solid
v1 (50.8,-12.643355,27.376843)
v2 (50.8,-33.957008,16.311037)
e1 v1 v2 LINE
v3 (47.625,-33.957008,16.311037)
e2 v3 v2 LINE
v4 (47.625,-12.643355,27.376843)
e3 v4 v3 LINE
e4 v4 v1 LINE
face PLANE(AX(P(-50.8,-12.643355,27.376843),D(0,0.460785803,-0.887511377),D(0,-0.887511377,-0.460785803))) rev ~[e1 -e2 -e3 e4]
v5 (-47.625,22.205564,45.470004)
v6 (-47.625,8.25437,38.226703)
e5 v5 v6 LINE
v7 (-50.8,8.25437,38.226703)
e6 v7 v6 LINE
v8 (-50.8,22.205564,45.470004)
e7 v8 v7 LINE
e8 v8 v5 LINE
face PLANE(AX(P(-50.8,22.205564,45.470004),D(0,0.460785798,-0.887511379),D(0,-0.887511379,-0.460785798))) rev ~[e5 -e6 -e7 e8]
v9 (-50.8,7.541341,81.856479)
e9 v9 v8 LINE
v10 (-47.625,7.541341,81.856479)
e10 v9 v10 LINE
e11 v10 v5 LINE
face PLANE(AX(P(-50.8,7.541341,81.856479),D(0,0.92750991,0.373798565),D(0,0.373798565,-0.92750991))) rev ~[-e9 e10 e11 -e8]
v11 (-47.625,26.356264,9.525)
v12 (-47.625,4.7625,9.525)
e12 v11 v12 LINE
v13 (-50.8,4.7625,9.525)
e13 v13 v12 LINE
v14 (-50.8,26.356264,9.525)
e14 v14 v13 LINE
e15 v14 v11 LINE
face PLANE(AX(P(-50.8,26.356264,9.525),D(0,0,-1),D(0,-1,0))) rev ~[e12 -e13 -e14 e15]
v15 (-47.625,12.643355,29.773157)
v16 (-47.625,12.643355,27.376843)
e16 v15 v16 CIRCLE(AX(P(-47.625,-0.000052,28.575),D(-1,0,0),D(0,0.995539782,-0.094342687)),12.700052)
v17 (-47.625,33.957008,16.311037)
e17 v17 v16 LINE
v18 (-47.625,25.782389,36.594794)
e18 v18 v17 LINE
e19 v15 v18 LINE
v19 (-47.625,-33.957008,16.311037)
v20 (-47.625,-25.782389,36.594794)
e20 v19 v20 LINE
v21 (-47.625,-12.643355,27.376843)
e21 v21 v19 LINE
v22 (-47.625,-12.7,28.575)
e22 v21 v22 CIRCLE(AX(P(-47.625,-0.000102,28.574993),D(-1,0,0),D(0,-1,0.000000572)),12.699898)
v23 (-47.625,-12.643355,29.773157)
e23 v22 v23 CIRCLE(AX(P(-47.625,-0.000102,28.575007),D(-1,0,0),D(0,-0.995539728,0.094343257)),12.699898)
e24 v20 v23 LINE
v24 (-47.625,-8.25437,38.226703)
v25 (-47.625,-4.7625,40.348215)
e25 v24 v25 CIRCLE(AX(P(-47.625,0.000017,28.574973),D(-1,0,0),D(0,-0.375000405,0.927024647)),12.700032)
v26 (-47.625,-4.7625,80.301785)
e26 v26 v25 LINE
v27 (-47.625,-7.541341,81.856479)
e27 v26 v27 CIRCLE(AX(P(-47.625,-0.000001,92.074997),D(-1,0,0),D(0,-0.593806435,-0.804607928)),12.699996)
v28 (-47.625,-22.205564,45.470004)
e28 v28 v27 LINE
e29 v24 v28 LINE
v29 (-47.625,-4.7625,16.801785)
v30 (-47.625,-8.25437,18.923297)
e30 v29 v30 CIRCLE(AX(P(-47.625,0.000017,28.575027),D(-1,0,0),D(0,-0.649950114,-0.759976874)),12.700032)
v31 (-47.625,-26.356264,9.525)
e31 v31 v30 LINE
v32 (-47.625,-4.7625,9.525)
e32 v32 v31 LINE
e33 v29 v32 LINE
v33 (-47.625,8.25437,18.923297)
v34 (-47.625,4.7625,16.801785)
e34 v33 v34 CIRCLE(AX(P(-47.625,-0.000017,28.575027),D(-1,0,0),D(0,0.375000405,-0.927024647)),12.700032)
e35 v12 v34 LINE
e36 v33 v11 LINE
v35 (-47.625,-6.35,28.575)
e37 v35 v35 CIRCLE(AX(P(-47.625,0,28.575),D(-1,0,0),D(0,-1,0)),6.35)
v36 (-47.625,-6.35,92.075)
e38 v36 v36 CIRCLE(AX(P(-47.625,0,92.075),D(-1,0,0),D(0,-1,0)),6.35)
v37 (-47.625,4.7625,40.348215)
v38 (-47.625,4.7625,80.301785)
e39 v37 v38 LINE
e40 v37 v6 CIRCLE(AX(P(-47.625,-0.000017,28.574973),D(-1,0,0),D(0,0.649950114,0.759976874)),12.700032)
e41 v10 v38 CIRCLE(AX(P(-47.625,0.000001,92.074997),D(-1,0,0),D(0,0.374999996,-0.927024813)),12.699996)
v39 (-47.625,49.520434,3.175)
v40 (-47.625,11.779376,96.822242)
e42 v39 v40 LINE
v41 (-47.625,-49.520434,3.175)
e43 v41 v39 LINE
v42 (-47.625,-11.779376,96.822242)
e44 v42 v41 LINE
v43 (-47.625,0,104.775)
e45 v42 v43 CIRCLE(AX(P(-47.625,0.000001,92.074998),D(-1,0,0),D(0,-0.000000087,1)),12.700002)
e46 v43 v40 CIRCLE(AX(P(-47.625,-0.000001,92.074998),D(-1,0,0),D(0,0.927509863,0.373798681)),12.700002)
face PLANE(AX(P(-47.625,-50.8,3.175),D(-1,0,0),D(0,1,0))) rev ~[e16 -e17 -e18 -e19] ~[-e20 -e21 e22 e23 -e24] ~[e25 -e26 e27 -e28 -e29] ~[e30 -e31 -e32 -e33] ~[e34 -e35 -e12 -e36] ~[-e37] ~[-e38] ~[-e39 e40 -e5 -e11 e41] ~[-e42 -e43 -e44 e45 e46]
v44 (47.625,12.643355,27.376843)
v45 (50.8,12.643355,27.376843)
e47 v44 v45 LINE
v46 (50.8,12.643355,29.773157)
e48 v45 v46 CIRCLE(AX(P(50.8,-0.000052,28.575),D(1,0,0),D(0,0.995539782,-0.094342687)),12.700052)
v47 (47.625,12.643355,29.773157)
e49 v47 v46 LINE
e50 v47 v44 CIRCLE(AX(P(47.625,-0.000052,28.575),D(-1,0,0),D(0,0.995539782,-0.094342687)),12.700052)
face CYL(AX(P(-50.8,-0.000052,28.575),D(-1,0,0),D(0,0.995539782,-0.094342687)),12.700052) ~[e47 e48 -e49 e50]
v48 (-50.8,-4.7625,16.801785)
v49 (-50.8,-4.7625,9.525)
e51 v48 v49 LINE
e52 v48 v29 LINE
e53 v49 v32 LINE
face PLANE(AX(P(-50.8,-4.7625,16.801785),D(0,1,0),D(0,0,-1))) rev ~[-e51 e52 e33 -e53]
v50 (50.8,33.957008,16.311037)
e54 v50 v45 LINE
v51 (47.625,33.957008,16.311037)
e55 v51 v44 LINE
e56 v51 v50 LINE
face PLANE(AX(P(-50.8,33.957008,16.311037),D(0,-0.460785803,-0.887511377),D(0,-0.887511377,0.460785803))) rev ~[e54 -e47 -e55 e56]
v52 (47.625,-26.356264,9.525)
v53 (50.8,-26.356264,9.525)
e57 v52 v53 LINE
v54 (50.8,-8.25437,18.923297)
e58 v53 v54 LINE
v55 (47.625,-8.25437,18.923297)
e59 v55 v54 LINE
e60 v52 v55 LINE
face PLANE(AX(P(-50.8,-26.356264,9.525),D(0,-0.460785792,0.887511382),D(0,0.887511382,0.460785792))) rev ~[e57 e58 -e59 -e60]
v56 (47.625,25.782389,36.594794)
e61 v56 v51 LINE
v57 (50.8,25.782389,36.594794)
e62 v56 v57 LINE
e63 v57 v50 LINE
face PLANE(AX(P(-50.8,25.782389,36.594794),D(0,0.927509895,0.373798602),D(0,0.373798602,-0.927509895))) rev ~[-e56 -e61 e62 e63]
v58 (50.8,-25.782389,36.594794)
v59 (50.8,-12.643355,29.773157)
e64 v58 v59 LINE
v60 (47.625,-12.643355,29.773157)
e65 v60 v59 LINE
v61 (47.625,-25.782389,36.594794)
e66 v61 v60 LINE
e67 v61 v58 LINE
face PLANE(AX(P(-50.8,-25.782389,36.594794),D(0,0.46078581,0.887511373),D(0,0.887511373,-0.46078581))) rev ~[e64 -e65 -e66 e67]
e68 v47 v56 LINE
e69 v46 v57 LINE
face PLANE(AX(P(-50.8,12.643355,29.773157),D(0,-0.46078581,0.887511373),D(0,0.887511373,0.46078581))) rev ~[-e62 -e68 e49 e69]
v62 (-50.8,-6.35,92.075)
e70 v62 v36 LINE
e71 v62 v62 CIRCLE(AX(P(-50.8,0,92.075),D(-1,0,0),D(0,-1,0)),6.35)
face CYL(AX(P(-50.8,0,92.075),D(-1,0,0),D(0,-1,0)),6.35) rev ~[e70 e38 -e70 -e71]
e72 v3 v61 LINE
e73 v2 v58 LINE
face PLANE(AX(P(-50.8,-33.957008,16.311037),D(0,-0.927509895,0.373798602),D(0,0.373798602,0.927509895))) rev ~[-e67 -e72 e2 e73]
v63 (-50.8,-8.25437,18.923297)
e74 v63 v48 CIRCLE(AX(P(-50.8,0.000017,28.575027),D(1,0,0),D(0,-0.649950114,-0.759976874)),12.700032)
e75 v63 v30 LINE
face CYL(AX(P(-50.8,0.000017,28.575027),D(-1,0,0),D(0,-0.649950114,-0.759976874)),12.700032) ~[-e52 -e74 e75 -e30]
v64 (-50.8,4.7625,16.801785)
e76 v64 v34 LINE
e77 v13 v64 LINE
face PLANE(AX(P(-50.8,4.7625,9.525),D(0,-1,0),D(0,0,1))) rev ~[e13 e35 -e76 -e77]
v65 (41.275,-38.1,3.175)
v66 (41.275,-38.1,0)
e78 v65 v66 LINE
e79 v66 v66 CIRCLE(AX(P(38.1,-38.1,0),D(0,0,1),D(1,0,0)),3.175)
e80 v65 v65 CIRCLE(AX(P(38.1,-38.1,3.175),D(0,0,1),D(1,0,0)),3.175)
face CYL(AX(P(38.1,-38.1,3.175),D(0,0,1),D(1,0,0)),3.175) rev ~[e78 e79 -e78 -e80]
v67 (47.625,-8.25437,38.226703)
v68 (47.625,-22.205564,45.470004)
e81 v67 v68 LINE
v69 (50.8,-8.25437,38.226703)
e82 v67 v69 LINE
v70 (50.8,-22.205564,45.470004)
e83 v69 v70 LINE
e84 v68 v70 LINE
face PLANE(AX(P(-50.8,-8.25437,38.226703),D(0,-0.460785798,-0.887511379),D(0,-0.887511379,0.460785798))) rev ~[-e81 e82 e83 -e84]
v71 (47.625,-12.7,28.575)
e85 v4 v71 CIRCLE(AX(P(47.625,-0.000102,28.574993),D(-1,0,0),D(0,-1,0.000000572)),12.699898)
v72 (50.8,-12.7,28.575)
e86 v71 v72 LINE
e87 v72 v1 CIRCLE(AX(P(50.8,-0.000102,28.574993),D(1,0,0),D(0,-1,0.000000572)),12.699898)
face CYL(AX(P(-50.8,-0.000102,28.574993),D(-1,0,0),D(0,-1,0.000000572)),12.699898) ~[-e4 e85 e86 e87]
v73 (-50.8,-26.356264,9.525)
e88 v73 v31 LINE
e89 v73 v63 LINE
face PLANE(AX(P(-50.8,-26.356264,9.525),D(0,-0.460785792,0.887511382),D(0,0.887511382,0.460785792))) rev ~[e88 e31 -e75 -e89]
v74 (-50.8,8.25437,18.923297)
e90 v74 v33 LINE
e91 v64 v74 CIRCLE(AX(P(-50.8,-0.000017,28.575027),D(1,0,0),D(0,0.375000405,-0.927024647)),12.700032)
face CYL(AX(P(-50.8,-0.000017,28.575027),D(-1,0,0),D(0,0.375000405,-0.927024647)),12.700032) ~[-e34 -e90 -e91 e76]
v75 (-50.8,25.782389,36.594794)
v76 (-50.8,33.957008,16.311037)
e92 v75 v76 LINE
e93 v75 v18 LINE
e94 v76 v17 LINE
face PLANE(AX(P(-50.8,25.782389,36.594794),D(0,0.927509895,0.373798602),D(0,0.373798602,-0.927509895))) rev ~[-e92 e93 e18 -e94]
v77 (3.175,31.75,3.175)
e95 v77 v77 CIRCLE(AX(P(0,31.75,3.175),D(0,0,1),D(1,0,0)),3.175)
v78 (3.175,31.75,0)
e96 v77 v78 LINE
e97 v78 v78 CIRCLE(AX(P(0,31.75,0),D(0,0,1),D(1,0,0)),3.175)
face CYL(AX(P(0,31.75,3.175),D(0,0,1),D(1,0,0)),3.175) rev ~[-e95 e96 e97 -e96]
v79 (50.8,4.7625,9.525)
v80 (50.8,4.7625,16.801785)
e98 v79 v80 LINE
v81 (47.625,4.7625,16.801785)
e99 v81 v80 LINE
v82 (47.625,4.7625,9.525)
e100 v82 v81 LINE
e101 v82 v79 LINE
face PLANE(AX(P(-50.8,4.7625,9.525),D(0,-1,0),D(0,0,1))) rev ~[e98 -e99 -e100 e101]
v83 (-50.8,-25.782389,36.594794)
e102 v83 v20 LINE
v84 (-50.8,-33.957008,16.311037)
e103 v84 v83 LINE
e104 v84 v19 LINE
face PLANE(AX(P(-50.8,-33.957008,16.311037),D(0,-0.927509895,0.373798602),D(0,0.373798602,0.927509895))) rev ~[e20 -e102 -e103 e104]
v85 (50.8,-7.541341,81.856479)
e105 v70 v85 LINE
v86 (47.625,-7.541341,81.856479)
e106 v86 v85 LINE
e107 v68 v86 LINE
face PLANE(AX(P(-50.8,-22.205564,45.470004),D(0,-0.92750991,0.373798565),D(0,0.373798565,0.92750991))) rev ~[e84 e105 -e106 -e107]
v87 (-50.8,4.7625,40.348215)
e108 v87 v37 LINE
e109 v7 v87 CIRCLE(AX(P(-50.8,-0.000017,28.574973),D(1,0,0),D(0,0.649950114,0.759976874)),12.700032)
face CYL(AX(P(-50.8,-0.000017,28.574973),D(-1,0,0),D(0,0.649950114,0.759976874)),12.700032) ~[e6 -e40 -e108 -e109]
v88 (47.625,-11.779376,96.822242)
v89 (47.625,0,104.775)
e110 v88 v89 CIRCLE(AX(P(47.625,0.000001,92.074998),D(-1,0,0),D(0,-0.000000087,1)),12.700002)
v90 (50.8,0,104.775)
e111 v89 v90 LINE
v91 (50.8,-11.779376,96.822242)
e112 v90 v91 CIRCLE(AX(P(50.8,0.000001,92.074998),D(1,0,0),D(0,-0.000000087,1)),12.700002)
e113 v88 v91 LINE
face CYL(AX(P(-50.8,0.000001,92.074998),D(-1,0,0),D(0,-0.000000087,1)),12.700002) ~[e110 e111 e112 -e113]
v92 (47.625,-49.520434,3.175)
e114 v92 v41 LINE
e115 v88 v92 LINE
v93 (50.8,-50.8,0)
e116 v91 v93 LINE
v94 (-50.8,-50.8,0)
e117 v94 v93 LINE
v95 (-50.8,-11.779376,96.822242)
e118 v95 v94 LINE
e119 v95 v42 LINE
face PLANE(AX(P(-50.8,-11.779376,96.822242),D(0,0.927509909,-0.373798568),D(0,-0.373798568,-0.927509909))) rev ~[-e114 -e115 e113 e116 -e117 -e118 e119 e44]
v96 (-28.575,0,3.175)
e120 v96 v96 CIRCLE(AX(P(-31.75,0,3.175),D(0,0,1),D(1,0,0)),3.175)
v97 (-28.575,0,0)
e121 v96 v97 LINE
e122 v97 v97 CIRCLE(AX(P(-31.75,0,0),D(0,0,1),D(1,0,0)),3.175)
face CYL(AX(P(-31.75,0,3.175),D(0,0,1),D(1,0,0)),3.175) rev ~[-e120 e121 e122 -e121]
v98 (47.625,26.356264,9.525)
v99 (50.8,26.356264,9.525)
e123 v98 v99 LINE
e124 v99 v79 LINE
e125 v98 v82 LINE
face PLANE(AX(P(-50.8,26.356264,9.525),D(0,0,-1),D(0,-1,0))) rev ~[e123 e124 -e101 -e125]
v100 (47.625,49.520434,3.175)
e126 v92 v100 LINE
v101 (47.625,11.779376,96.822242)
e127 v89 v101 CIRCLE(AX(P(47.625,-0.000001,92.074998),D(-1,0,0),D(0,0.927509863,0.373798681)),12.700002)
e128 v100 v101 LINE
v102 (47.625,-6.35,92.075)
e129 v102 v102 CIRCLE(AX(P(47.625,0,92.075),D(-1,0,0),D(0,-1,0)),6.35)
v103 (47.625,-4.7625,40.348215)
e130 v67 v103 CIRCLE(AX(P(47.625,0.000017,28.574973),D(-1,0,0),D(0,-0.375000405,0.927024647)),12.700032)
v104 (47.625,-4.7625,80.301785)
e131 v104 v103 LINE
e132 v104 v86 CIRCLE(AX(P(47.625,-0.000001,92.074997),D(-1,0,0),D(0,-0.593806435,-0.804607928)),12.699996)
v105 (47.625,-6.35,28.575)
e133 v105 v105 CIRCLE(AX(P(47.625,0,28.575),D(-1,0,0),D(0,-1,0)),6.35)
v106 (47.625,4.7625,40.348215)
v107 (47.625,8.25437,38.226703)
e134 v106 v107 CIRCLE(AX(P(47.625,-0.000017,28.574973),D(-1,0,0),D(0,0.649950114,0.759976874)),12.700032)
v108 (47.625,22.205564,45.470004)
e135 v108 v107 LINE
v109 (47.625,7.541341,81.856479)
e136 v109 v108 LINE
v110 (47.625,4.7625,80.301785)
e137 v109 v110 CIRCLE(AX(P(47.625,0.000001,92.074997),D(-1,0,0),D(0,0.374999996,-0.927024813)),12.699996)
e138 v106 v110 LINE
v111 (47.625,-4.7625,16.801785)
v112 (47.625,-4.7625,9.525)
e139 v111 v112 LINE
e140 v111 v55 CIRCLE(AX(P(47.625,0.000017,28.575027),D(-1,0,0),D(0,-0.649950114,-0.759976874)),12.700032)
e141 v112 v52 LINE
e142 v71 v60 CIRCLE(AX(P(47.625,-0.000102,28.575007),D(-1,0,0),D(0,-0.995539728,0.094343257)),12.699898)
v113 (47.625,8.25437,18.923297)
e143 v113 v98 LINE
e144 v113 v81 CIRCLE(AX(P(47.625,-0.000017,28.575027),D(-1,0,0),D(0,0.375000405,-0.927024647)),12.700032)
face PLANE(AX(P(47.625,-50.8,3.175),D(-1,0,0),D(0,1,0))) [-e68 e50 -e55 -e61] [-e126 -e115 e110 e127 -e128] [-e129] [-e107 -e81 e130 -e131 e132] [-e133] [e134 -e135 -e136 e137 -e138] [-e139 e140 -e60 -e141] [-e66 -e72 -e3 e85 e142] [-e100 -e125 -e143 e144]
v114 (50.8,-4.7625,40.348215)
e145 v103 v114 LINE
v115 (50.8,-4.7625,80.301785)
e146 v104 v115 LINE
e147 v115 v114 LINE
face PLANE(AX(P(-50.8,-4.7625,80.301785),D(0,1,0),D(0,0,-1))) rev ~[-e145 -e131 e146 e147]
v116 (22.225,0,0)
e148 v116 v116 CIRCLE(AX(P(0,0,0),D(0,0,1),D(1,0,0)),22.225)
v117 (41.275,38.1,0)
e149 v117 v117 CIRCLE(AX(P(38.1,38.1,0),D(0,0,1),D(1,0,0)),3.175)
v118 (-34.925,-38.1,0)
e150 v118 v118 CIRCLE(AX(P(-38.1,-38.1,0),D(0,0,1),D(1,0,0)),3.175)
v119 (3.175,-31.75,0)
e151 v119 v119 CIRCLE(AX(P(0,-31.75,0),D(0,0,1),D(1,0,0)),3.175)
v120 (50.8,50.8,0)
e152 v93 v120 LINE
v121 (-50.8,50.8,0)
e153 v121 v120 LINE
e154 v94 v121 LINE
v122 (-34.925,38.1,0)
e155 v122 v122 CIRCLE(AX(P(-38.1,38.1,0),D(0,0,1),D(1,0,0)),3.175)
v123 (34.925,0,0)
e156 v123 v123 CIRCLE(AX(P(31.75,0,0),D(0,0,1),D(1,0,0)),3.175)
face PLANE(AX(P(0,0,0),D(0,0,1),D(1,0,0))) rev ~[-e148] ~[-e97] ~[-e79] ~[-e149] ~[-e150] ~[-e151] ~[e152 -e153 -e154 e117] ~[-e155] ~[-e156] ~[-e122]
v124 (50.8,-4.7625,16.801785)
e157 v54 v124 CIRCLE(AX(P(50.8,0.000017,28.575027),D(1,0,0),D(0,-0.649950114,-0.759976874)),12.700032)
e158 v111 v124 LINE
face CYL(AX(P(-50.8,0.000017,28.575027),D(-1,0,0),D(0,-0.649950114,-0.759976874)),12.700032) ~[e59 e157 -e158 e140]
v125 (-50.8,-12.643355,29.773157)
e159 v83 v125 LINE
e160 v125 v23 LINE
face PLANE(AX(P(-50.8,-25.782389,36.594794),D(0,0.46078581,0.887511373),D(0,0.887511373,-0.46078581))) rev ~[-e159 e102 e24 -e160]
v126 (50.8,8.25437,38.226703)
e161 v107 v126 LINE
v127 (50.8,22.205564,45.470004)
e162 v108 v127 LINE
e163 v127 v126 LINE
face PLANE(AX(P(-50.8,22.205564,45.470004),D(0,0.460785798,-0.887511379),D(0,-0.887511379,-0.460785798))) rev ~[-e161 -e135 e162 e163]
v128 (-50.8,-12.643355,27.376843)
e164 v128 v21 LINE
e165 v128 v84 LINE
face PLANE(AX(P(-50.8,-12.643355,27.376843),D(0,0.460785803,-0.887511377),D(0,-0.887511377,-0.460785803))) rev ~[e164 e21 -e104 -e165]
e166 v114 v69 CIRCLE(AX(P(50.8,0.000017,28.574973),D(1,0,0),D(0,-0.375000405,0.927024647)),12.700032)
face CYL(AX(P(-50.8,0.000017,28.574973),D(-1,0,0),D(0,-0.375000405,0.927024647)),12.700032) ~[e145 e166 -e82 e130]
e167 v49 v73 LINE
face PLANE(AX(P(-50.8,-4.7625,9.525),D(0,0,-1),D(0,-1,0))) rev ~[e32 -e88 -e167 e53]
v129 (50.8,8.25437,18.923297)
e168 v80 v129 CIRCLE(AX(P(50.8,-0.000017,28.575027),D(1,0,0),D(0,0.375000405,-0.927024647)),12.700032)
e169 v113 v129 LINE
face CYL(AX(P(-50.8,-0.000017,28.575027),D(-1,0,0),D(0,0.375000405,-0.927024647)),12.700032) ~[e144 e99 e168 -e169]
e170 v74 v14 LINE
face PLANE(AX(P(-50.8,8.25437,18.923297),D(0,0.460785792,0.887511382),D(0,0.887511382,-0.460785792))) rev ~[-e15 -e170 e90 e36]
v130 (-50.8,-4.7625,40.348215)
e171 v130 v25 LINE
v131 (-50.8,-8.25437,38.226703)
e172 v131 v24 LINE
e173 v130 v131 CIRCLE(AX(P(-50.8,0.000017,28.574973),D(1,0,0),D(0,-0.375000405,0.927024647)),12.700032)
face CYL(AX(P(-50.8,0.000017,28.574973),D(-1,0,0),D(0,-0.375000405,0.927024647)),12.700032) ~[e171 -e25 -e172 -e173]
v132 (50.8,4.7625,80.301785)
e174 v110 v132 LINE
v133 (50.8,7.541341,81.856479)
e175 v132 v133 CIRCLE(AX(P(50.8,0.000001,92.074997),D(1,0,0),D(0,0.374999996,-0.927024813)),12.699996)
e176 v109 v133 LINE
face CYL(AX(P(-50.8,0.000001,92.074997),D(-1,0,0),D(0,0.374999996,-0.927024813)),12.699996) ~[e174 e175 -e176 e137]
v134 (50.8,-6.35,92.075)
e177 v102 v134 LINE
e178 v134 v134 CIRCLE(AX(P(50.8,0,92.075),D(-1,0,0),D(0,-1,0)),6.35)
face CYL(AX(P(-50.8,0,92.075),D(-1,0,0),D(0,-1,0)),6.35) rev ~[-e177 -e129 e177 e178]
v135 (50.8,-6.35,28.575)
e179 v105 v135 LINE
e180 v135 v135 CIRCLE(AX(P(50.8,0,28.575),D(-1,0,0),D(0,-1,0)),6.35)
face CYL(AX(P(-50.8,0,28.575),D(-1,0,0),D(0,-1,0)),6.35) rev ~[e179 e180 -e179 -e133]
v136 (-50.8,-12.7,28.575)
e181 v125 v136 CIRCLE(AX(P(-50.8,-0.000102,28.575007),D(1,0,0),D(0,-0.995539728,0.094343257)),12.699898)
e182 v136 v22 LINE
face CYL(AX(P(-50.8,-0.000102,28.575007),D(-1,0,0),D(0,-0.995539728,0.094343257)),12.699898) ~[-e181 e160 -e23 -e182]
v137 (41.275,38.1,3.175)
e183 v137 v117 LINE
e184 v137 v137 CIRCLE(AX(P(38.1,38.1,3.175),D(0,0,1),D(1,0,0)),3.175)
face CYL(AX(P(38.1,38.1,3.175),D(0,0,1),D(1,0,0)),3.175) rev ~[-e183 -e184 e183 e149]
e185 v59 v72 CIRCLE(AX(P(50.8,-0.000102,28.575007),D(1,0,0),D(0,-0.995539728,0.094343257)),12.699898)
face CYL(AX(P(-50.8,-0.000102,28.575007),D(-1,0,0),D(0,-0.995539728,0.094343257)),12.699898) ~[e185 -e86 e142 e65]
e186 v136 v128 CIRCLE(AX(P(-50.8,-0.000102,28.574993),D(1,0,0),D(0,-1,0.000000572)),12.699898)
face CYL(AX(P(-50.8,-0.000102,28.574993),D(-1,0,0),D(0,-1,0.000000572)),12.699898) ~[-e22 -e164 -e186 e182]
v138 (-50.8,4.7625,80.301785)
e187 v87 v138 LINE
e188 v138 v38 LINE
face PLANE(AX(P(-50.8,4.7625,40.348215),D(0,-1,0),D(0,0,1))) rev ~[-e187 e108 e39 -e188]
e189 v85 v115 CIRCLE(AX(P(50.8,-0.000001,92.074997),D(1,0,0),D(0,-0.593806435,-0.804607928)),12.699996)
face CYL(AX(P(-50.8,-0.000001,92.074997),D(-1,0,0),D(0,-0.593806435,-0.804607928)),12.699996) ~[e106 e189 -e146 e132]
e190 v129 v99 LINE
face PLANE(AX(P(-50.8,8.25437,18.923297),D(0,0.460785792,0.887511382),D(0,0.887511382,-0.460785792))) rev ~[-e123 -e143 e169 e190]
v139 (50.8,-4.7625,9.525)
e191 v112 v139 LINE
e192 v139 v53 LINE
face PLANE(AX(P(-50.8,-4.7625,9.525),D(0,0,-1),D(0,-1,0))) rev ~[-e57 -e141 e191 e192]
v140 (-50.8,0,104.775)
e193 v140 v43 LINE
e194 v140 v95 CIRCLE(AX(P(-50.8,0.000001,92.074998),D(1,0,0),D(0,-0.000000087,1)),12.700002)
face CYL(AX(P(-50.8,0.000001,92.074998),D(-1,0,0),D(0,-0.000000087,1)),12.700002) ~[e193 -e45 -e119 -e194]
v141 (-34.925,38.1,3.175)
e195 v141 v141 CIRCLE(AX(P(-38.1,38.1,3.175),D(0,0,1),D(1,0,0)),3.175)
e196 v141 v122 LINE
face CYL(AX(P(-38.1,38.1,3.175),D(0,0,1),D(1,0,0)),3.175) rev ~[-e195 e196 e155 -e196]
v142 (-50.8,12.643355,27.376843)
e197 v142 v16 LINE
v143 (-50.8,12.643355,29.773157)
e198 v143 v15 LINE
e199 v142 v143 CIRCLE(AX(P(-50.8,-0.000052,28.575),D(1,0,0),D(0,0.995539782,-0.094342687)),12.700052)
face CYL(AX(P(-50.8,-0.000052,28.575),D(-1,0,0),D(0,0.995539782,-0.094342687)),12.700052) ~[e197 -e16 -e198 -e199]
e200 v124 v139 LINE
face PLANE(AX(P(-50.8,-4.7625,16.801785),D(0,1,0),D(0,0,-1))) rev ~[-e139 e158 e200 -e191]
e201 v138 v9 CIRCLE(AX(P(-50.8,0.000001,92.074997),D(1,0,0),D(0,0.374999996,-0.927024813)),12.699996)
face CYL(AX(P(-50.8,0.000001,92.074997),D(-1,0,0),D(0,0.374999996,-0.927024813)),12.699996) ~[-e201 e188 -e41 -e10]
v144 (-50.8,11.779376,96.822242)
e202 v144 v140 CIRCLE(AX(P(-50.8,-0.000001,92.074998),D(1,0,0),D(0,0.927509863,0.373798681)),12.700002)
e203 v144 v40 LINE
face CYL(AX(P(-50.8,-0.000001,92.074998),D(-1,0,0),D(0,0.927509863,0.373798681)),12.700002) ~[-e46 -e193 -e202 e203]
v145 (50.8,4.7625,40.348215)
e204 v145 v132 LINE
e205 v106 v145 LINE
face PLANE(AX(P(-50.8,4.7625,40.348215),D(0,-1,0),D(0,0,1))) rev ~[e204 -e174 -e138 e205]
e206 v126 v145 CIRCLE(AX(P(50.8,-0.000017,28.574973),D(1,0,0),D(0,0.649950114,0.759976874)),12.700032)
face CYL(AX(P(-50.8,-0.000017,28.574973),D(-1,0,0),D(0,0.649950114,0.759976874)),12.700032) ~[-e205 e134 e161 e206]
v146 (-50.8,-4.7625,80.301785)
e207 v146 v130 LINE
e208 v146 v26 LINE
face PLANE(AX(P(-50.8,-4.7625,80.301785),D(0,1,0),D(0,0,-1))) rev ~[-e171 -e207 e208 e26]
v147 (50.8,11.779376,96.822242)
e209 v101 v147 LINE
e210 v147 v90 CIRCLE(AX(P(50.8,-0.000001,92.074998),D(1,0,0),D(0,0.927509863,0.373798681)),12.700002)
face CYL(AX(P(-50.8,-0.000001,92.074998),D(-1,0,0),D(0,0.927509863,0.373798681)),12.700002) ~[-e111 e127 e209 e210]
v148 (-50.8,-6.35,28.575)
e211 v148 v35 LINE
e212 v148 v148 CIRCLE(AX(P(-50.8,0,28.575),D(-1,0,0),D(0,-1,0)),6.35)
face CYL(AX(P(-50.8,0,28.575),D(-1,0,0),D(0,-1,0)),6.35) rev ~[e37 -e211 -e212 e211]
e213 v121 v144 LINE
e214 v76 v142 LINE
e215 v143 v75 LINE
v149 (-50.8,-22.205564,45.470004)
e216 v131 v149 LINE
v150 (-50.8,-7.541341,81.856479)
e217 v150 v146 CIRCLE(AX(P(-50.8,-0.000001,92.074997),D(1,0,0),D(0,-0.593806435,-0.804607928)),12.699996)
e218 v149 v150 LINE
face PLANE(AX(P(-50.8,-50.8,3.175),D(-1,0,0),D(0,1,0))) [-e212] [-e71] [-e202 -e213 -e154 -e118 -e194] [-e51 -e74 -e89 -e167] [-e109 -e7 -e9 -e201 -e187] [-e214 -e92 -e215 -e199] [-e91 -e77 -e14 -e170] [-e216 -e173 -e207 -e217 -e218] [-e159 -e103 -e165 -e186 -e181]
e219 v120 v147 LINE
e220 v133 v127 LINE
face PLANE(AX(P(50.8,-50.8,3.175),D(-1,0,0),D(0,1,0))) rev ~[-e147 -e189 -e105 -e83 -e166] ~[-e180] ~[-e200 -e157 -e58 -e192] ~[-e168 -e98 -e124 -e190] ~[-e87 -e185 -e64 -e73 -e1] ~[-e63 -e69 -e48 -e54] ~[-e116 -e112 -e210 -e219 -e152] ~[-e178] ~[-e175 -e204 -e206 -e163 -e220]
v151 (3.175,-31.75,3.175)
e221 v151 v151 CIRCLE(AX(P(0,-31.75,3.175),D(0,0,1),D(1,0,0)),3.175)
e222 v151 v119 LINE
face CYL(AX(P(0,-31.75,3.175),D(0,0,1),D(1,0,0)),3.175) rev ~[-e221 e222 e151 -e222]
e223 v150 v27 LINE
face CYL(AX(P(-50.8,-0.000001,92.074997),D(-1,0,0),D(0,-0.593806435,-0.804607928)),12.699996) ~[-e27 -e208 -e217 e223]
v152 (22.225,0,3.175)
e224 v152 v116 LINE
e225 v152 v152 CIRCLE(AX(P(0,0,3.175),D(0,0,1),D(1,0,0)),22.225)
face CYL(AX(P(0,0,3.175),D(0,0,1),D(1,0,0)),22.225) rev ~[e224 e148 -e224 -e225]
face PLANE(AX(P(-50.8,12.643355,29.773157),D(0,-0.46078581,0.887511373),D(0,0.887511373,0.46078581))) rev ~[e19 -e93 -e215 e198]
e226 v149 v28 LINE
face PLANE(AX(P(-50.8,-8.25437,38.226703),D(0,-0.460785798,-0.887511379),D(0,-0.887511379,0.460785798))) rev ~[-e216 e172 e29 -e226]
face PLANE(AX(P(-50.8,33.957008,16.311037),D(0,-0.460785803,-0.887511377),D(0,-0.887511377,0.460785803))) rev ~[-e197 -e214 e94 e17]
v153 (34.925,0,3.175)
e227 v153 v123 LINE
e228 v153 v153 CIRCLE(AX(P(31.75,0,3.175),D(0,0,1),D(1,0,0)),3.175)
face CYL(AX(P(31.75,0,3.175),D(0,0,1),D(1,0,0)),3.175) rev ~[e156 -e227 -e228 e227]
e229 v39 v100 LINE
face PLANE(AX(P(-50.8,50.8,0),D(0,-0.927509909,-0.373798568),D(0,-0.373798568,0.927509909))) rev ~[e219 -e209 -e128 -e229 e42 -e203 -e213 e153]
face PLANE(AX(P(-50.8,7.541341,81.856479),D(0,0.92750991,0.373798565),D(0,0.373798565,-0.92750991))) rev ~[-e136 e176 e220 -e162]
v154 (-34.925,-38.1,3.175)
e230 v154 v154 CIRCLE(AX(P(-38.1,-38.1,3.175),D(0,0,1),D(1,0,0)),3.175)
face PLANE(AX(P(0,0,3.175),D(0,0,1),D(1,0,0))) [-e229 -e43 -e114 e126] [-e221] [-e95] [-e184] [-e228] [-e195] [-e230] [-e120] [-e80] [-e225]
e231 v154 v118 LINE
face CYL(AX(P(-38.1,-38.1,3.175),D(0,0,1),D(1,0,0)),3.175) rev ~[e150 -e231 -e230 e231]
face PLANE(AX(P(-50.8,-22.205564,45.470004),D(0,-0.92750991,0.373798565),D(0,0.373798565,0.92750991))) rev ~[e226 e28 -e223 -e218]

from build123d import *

# Parameters (mm, degrees)
F0_W      = 101.6
F0_H      = 101.6
F1_DEPTH  = 3.175
F2_W      = 3.175
F2_H      = 101.6
F3_DEPTH  = 101.6
F4_W      = 3.175
F4_H      = 101.6
F5_DEPTH  = 101.6
F7_DEPTH  = 101.6
F8_R      = 6.35
F9_DEPTH  = 101.6
F11_DEPTH = 101.6
F12_R     = 3.175
F12_R_2   = 22.225
F13_DEPTH = 25.4


with BuildPart() as f1:
    # F0 (on Top) → F1 (new body)
    with BuildSketch(Plane.XY):
        Rectangle(F0_W, F0_H)
    extrude(amount=F1_DEPTH)

    # F2 (on face) → F3 (join)
    with BuildSketch(Plane.XY.offset(3.175)):
        with Locations((-49.2125, 0)):
            Rectangle(F2_W, F2_H)
    extrude(amount=F3_DEPTH)

    # F4 (on face) → F5 (join)
    with BuildSketch(Plane.XY.offset(3.175)):
        with Locations((49.2125, 0)):
            Rectangle(F4_W, F4_H)
    extrude(amount=F5_DEPTH)

    # F6 (on face) → F7 (cut)
    with BuildSketch(Plane(origin=(-50.8, 0, 0), x_dir=(0, -1, 0), z_dir=(-1, 0, 0))):
        with BuildLine():
            Line((-50.8, 104.775), (-50.8, 0))
            Line((-50.8, 0), (-11.779376, 96.822242))
            ThreePointArc((-11.779376, 96.822242), (-7.106336, 102.600682), (0, 104.775))
            Line((0, 104.775), (-50.8, 104.775))
        make_face()
        with BuildLine():
            Line((11.779376, 96.822242), (50.8, 0))
            Line((50.8, 0), (50.8, 104.775))
            Line((50.8, 104.775), (0, 104.775))
            ThreePointArc((0, 104.775), (7.106336, 102.600682), (11.779376, 96.822242))
        make_face()
    extrude(amount=-F7_DEPTH, mode=Mode.SUBTRACT)

    # F8 (on face) → F9 (cut)
    with BuildSketch(Plane(origin=(-50.8, 0, 0), x_dir=(0, -1, 0), z_dir=(-1, 0, 0))):
        with Locations((0, 28.575)):
            Circle(F8_R)
        with Locations((0, 92.075)):
            Circle(F8_R)
    extrude(amount=-F9_DEPTH, mode=Mode.SUBTRACT)

    # F10 (on face) → F11 (cut)
    with BuildSketch(Plane(origin=(-50.8, 0, 0), x_dir=(0, -1, 0), z_dir=(-1, 0, 0))):
        with BuildLine():
            ThreePointArc((4.7625, 40.348215), (6.59431, 39.428804), (8.25437, 38.226703))
            Line((8.25437, 38.226703), (22.205564, 45.470004))
            Line((22.205564, 45.470004), (7.541341, 81.856479))
            ThreePointArc((7.541341, 81.856479), (6.200838, 80.991697), (4.7625, 80.301785))
            Line((4.7625, 80.301785), (4.7625, 40.348215))
        make_face()
        with BuildLine():
            ThreePointArc((12.643355, 29.773157), (12.685831, 29.174748), (12.7, 28.575))
            ThreePointArc((12.7, 28.575), (12.685831, 27.975252), (12.643355, 27.376843))
            Line((12.643355, 27.376843), (33.957008, 16.311037))
            Line((33.957008, 16.311037), (25.782389, 36.594794))
            Line((25.782389, 36.594794), (12.643355, 29.773157))
        make_face()
        with BuildLine():
            ThreePointArc((-8.25437, 38.226703), (-6.59431, 39.428804), (-4.7625, 40.348215))
            Line((-4.7625, 40.348215), (-4.7625, 80.301785))
            ThreePointArc((-4.7625, 80.301785), (-6.200838, 80.991697), (-7.541341, 81.856479))
            Line((-7.541341, 81.856479), (-22.205564, 45.470004))
            Line((-22.205564, 45.470004), (-8.25437, 38.226703))
        make_face()
        with BuildLine():
            ThreePointArc((-12.643355, 27.376843), (-12.7, 28.575), (-12.643355, 29.773157))
            Line((-12.643355, 29.773157), (-25.782389, 36.594794))
            Line((-25.782389, 36.594794), (-33.957008, 16.311037))
            Line((-33.957008, 16.311037), (-12.643355, 27.376843))
        make_face()
        with BuildLine():
            Line((-4.7625, 9.525), (-4.7625, 16.801785))
            ThreePointArc((-4.7625, 16.801785), (-6.59431, 17.721196), (-8.25437, 18.923297))
            Line((-8.25437, 18.923297), (-26.356264, 9.525))
            Line((-26.356264, 9.525), (-4.7625, 9.525))
        make_face()
        with BuildLine():
            Line((26.356264, 9.525), (8.25437, 18.923297))
            ThreePointArc((8.25437, 18.923297), (6.59431, 17.721196), (4.7625, 16.801785))
            Line((4.7625, 16.801785), (4.7625, 9.525))
            Line((4.7625, 9.525), (26.356264, 9.525))
        make_face()
    extrude(amount=-F11_DEPTH, mode=Mode.SUBTRACT)

    # F12 (on face) → F13 (cut)
    with BuildSketch(Plane.XY.offset(3.175)):
        with Locations((38.1, 38.1)):
            Circle(F12_R)
        with Locations((31.75, 0)):
            Circle(F12_R)
        with Locations((38.1, -38.1)):
            Circle(F12_R)
        Circle(F12_R_2)
        with Locations((0, -31.75)):
            Circle(F12_R)
        with Locations((-31.75, 0)):
            Circle(F12_R)
        with Locations((0, 31.75)):
            Circle(F12_R)
        with Locations((-38.1, 38.1)):
            Circle(F12_R)
        with Locations((-38.1, -38.1)):
            Circle(F12_R)
    extrude(amount=-F13_DEPTH, mode=Mode.SUBTRACT)


solid = f1.part
